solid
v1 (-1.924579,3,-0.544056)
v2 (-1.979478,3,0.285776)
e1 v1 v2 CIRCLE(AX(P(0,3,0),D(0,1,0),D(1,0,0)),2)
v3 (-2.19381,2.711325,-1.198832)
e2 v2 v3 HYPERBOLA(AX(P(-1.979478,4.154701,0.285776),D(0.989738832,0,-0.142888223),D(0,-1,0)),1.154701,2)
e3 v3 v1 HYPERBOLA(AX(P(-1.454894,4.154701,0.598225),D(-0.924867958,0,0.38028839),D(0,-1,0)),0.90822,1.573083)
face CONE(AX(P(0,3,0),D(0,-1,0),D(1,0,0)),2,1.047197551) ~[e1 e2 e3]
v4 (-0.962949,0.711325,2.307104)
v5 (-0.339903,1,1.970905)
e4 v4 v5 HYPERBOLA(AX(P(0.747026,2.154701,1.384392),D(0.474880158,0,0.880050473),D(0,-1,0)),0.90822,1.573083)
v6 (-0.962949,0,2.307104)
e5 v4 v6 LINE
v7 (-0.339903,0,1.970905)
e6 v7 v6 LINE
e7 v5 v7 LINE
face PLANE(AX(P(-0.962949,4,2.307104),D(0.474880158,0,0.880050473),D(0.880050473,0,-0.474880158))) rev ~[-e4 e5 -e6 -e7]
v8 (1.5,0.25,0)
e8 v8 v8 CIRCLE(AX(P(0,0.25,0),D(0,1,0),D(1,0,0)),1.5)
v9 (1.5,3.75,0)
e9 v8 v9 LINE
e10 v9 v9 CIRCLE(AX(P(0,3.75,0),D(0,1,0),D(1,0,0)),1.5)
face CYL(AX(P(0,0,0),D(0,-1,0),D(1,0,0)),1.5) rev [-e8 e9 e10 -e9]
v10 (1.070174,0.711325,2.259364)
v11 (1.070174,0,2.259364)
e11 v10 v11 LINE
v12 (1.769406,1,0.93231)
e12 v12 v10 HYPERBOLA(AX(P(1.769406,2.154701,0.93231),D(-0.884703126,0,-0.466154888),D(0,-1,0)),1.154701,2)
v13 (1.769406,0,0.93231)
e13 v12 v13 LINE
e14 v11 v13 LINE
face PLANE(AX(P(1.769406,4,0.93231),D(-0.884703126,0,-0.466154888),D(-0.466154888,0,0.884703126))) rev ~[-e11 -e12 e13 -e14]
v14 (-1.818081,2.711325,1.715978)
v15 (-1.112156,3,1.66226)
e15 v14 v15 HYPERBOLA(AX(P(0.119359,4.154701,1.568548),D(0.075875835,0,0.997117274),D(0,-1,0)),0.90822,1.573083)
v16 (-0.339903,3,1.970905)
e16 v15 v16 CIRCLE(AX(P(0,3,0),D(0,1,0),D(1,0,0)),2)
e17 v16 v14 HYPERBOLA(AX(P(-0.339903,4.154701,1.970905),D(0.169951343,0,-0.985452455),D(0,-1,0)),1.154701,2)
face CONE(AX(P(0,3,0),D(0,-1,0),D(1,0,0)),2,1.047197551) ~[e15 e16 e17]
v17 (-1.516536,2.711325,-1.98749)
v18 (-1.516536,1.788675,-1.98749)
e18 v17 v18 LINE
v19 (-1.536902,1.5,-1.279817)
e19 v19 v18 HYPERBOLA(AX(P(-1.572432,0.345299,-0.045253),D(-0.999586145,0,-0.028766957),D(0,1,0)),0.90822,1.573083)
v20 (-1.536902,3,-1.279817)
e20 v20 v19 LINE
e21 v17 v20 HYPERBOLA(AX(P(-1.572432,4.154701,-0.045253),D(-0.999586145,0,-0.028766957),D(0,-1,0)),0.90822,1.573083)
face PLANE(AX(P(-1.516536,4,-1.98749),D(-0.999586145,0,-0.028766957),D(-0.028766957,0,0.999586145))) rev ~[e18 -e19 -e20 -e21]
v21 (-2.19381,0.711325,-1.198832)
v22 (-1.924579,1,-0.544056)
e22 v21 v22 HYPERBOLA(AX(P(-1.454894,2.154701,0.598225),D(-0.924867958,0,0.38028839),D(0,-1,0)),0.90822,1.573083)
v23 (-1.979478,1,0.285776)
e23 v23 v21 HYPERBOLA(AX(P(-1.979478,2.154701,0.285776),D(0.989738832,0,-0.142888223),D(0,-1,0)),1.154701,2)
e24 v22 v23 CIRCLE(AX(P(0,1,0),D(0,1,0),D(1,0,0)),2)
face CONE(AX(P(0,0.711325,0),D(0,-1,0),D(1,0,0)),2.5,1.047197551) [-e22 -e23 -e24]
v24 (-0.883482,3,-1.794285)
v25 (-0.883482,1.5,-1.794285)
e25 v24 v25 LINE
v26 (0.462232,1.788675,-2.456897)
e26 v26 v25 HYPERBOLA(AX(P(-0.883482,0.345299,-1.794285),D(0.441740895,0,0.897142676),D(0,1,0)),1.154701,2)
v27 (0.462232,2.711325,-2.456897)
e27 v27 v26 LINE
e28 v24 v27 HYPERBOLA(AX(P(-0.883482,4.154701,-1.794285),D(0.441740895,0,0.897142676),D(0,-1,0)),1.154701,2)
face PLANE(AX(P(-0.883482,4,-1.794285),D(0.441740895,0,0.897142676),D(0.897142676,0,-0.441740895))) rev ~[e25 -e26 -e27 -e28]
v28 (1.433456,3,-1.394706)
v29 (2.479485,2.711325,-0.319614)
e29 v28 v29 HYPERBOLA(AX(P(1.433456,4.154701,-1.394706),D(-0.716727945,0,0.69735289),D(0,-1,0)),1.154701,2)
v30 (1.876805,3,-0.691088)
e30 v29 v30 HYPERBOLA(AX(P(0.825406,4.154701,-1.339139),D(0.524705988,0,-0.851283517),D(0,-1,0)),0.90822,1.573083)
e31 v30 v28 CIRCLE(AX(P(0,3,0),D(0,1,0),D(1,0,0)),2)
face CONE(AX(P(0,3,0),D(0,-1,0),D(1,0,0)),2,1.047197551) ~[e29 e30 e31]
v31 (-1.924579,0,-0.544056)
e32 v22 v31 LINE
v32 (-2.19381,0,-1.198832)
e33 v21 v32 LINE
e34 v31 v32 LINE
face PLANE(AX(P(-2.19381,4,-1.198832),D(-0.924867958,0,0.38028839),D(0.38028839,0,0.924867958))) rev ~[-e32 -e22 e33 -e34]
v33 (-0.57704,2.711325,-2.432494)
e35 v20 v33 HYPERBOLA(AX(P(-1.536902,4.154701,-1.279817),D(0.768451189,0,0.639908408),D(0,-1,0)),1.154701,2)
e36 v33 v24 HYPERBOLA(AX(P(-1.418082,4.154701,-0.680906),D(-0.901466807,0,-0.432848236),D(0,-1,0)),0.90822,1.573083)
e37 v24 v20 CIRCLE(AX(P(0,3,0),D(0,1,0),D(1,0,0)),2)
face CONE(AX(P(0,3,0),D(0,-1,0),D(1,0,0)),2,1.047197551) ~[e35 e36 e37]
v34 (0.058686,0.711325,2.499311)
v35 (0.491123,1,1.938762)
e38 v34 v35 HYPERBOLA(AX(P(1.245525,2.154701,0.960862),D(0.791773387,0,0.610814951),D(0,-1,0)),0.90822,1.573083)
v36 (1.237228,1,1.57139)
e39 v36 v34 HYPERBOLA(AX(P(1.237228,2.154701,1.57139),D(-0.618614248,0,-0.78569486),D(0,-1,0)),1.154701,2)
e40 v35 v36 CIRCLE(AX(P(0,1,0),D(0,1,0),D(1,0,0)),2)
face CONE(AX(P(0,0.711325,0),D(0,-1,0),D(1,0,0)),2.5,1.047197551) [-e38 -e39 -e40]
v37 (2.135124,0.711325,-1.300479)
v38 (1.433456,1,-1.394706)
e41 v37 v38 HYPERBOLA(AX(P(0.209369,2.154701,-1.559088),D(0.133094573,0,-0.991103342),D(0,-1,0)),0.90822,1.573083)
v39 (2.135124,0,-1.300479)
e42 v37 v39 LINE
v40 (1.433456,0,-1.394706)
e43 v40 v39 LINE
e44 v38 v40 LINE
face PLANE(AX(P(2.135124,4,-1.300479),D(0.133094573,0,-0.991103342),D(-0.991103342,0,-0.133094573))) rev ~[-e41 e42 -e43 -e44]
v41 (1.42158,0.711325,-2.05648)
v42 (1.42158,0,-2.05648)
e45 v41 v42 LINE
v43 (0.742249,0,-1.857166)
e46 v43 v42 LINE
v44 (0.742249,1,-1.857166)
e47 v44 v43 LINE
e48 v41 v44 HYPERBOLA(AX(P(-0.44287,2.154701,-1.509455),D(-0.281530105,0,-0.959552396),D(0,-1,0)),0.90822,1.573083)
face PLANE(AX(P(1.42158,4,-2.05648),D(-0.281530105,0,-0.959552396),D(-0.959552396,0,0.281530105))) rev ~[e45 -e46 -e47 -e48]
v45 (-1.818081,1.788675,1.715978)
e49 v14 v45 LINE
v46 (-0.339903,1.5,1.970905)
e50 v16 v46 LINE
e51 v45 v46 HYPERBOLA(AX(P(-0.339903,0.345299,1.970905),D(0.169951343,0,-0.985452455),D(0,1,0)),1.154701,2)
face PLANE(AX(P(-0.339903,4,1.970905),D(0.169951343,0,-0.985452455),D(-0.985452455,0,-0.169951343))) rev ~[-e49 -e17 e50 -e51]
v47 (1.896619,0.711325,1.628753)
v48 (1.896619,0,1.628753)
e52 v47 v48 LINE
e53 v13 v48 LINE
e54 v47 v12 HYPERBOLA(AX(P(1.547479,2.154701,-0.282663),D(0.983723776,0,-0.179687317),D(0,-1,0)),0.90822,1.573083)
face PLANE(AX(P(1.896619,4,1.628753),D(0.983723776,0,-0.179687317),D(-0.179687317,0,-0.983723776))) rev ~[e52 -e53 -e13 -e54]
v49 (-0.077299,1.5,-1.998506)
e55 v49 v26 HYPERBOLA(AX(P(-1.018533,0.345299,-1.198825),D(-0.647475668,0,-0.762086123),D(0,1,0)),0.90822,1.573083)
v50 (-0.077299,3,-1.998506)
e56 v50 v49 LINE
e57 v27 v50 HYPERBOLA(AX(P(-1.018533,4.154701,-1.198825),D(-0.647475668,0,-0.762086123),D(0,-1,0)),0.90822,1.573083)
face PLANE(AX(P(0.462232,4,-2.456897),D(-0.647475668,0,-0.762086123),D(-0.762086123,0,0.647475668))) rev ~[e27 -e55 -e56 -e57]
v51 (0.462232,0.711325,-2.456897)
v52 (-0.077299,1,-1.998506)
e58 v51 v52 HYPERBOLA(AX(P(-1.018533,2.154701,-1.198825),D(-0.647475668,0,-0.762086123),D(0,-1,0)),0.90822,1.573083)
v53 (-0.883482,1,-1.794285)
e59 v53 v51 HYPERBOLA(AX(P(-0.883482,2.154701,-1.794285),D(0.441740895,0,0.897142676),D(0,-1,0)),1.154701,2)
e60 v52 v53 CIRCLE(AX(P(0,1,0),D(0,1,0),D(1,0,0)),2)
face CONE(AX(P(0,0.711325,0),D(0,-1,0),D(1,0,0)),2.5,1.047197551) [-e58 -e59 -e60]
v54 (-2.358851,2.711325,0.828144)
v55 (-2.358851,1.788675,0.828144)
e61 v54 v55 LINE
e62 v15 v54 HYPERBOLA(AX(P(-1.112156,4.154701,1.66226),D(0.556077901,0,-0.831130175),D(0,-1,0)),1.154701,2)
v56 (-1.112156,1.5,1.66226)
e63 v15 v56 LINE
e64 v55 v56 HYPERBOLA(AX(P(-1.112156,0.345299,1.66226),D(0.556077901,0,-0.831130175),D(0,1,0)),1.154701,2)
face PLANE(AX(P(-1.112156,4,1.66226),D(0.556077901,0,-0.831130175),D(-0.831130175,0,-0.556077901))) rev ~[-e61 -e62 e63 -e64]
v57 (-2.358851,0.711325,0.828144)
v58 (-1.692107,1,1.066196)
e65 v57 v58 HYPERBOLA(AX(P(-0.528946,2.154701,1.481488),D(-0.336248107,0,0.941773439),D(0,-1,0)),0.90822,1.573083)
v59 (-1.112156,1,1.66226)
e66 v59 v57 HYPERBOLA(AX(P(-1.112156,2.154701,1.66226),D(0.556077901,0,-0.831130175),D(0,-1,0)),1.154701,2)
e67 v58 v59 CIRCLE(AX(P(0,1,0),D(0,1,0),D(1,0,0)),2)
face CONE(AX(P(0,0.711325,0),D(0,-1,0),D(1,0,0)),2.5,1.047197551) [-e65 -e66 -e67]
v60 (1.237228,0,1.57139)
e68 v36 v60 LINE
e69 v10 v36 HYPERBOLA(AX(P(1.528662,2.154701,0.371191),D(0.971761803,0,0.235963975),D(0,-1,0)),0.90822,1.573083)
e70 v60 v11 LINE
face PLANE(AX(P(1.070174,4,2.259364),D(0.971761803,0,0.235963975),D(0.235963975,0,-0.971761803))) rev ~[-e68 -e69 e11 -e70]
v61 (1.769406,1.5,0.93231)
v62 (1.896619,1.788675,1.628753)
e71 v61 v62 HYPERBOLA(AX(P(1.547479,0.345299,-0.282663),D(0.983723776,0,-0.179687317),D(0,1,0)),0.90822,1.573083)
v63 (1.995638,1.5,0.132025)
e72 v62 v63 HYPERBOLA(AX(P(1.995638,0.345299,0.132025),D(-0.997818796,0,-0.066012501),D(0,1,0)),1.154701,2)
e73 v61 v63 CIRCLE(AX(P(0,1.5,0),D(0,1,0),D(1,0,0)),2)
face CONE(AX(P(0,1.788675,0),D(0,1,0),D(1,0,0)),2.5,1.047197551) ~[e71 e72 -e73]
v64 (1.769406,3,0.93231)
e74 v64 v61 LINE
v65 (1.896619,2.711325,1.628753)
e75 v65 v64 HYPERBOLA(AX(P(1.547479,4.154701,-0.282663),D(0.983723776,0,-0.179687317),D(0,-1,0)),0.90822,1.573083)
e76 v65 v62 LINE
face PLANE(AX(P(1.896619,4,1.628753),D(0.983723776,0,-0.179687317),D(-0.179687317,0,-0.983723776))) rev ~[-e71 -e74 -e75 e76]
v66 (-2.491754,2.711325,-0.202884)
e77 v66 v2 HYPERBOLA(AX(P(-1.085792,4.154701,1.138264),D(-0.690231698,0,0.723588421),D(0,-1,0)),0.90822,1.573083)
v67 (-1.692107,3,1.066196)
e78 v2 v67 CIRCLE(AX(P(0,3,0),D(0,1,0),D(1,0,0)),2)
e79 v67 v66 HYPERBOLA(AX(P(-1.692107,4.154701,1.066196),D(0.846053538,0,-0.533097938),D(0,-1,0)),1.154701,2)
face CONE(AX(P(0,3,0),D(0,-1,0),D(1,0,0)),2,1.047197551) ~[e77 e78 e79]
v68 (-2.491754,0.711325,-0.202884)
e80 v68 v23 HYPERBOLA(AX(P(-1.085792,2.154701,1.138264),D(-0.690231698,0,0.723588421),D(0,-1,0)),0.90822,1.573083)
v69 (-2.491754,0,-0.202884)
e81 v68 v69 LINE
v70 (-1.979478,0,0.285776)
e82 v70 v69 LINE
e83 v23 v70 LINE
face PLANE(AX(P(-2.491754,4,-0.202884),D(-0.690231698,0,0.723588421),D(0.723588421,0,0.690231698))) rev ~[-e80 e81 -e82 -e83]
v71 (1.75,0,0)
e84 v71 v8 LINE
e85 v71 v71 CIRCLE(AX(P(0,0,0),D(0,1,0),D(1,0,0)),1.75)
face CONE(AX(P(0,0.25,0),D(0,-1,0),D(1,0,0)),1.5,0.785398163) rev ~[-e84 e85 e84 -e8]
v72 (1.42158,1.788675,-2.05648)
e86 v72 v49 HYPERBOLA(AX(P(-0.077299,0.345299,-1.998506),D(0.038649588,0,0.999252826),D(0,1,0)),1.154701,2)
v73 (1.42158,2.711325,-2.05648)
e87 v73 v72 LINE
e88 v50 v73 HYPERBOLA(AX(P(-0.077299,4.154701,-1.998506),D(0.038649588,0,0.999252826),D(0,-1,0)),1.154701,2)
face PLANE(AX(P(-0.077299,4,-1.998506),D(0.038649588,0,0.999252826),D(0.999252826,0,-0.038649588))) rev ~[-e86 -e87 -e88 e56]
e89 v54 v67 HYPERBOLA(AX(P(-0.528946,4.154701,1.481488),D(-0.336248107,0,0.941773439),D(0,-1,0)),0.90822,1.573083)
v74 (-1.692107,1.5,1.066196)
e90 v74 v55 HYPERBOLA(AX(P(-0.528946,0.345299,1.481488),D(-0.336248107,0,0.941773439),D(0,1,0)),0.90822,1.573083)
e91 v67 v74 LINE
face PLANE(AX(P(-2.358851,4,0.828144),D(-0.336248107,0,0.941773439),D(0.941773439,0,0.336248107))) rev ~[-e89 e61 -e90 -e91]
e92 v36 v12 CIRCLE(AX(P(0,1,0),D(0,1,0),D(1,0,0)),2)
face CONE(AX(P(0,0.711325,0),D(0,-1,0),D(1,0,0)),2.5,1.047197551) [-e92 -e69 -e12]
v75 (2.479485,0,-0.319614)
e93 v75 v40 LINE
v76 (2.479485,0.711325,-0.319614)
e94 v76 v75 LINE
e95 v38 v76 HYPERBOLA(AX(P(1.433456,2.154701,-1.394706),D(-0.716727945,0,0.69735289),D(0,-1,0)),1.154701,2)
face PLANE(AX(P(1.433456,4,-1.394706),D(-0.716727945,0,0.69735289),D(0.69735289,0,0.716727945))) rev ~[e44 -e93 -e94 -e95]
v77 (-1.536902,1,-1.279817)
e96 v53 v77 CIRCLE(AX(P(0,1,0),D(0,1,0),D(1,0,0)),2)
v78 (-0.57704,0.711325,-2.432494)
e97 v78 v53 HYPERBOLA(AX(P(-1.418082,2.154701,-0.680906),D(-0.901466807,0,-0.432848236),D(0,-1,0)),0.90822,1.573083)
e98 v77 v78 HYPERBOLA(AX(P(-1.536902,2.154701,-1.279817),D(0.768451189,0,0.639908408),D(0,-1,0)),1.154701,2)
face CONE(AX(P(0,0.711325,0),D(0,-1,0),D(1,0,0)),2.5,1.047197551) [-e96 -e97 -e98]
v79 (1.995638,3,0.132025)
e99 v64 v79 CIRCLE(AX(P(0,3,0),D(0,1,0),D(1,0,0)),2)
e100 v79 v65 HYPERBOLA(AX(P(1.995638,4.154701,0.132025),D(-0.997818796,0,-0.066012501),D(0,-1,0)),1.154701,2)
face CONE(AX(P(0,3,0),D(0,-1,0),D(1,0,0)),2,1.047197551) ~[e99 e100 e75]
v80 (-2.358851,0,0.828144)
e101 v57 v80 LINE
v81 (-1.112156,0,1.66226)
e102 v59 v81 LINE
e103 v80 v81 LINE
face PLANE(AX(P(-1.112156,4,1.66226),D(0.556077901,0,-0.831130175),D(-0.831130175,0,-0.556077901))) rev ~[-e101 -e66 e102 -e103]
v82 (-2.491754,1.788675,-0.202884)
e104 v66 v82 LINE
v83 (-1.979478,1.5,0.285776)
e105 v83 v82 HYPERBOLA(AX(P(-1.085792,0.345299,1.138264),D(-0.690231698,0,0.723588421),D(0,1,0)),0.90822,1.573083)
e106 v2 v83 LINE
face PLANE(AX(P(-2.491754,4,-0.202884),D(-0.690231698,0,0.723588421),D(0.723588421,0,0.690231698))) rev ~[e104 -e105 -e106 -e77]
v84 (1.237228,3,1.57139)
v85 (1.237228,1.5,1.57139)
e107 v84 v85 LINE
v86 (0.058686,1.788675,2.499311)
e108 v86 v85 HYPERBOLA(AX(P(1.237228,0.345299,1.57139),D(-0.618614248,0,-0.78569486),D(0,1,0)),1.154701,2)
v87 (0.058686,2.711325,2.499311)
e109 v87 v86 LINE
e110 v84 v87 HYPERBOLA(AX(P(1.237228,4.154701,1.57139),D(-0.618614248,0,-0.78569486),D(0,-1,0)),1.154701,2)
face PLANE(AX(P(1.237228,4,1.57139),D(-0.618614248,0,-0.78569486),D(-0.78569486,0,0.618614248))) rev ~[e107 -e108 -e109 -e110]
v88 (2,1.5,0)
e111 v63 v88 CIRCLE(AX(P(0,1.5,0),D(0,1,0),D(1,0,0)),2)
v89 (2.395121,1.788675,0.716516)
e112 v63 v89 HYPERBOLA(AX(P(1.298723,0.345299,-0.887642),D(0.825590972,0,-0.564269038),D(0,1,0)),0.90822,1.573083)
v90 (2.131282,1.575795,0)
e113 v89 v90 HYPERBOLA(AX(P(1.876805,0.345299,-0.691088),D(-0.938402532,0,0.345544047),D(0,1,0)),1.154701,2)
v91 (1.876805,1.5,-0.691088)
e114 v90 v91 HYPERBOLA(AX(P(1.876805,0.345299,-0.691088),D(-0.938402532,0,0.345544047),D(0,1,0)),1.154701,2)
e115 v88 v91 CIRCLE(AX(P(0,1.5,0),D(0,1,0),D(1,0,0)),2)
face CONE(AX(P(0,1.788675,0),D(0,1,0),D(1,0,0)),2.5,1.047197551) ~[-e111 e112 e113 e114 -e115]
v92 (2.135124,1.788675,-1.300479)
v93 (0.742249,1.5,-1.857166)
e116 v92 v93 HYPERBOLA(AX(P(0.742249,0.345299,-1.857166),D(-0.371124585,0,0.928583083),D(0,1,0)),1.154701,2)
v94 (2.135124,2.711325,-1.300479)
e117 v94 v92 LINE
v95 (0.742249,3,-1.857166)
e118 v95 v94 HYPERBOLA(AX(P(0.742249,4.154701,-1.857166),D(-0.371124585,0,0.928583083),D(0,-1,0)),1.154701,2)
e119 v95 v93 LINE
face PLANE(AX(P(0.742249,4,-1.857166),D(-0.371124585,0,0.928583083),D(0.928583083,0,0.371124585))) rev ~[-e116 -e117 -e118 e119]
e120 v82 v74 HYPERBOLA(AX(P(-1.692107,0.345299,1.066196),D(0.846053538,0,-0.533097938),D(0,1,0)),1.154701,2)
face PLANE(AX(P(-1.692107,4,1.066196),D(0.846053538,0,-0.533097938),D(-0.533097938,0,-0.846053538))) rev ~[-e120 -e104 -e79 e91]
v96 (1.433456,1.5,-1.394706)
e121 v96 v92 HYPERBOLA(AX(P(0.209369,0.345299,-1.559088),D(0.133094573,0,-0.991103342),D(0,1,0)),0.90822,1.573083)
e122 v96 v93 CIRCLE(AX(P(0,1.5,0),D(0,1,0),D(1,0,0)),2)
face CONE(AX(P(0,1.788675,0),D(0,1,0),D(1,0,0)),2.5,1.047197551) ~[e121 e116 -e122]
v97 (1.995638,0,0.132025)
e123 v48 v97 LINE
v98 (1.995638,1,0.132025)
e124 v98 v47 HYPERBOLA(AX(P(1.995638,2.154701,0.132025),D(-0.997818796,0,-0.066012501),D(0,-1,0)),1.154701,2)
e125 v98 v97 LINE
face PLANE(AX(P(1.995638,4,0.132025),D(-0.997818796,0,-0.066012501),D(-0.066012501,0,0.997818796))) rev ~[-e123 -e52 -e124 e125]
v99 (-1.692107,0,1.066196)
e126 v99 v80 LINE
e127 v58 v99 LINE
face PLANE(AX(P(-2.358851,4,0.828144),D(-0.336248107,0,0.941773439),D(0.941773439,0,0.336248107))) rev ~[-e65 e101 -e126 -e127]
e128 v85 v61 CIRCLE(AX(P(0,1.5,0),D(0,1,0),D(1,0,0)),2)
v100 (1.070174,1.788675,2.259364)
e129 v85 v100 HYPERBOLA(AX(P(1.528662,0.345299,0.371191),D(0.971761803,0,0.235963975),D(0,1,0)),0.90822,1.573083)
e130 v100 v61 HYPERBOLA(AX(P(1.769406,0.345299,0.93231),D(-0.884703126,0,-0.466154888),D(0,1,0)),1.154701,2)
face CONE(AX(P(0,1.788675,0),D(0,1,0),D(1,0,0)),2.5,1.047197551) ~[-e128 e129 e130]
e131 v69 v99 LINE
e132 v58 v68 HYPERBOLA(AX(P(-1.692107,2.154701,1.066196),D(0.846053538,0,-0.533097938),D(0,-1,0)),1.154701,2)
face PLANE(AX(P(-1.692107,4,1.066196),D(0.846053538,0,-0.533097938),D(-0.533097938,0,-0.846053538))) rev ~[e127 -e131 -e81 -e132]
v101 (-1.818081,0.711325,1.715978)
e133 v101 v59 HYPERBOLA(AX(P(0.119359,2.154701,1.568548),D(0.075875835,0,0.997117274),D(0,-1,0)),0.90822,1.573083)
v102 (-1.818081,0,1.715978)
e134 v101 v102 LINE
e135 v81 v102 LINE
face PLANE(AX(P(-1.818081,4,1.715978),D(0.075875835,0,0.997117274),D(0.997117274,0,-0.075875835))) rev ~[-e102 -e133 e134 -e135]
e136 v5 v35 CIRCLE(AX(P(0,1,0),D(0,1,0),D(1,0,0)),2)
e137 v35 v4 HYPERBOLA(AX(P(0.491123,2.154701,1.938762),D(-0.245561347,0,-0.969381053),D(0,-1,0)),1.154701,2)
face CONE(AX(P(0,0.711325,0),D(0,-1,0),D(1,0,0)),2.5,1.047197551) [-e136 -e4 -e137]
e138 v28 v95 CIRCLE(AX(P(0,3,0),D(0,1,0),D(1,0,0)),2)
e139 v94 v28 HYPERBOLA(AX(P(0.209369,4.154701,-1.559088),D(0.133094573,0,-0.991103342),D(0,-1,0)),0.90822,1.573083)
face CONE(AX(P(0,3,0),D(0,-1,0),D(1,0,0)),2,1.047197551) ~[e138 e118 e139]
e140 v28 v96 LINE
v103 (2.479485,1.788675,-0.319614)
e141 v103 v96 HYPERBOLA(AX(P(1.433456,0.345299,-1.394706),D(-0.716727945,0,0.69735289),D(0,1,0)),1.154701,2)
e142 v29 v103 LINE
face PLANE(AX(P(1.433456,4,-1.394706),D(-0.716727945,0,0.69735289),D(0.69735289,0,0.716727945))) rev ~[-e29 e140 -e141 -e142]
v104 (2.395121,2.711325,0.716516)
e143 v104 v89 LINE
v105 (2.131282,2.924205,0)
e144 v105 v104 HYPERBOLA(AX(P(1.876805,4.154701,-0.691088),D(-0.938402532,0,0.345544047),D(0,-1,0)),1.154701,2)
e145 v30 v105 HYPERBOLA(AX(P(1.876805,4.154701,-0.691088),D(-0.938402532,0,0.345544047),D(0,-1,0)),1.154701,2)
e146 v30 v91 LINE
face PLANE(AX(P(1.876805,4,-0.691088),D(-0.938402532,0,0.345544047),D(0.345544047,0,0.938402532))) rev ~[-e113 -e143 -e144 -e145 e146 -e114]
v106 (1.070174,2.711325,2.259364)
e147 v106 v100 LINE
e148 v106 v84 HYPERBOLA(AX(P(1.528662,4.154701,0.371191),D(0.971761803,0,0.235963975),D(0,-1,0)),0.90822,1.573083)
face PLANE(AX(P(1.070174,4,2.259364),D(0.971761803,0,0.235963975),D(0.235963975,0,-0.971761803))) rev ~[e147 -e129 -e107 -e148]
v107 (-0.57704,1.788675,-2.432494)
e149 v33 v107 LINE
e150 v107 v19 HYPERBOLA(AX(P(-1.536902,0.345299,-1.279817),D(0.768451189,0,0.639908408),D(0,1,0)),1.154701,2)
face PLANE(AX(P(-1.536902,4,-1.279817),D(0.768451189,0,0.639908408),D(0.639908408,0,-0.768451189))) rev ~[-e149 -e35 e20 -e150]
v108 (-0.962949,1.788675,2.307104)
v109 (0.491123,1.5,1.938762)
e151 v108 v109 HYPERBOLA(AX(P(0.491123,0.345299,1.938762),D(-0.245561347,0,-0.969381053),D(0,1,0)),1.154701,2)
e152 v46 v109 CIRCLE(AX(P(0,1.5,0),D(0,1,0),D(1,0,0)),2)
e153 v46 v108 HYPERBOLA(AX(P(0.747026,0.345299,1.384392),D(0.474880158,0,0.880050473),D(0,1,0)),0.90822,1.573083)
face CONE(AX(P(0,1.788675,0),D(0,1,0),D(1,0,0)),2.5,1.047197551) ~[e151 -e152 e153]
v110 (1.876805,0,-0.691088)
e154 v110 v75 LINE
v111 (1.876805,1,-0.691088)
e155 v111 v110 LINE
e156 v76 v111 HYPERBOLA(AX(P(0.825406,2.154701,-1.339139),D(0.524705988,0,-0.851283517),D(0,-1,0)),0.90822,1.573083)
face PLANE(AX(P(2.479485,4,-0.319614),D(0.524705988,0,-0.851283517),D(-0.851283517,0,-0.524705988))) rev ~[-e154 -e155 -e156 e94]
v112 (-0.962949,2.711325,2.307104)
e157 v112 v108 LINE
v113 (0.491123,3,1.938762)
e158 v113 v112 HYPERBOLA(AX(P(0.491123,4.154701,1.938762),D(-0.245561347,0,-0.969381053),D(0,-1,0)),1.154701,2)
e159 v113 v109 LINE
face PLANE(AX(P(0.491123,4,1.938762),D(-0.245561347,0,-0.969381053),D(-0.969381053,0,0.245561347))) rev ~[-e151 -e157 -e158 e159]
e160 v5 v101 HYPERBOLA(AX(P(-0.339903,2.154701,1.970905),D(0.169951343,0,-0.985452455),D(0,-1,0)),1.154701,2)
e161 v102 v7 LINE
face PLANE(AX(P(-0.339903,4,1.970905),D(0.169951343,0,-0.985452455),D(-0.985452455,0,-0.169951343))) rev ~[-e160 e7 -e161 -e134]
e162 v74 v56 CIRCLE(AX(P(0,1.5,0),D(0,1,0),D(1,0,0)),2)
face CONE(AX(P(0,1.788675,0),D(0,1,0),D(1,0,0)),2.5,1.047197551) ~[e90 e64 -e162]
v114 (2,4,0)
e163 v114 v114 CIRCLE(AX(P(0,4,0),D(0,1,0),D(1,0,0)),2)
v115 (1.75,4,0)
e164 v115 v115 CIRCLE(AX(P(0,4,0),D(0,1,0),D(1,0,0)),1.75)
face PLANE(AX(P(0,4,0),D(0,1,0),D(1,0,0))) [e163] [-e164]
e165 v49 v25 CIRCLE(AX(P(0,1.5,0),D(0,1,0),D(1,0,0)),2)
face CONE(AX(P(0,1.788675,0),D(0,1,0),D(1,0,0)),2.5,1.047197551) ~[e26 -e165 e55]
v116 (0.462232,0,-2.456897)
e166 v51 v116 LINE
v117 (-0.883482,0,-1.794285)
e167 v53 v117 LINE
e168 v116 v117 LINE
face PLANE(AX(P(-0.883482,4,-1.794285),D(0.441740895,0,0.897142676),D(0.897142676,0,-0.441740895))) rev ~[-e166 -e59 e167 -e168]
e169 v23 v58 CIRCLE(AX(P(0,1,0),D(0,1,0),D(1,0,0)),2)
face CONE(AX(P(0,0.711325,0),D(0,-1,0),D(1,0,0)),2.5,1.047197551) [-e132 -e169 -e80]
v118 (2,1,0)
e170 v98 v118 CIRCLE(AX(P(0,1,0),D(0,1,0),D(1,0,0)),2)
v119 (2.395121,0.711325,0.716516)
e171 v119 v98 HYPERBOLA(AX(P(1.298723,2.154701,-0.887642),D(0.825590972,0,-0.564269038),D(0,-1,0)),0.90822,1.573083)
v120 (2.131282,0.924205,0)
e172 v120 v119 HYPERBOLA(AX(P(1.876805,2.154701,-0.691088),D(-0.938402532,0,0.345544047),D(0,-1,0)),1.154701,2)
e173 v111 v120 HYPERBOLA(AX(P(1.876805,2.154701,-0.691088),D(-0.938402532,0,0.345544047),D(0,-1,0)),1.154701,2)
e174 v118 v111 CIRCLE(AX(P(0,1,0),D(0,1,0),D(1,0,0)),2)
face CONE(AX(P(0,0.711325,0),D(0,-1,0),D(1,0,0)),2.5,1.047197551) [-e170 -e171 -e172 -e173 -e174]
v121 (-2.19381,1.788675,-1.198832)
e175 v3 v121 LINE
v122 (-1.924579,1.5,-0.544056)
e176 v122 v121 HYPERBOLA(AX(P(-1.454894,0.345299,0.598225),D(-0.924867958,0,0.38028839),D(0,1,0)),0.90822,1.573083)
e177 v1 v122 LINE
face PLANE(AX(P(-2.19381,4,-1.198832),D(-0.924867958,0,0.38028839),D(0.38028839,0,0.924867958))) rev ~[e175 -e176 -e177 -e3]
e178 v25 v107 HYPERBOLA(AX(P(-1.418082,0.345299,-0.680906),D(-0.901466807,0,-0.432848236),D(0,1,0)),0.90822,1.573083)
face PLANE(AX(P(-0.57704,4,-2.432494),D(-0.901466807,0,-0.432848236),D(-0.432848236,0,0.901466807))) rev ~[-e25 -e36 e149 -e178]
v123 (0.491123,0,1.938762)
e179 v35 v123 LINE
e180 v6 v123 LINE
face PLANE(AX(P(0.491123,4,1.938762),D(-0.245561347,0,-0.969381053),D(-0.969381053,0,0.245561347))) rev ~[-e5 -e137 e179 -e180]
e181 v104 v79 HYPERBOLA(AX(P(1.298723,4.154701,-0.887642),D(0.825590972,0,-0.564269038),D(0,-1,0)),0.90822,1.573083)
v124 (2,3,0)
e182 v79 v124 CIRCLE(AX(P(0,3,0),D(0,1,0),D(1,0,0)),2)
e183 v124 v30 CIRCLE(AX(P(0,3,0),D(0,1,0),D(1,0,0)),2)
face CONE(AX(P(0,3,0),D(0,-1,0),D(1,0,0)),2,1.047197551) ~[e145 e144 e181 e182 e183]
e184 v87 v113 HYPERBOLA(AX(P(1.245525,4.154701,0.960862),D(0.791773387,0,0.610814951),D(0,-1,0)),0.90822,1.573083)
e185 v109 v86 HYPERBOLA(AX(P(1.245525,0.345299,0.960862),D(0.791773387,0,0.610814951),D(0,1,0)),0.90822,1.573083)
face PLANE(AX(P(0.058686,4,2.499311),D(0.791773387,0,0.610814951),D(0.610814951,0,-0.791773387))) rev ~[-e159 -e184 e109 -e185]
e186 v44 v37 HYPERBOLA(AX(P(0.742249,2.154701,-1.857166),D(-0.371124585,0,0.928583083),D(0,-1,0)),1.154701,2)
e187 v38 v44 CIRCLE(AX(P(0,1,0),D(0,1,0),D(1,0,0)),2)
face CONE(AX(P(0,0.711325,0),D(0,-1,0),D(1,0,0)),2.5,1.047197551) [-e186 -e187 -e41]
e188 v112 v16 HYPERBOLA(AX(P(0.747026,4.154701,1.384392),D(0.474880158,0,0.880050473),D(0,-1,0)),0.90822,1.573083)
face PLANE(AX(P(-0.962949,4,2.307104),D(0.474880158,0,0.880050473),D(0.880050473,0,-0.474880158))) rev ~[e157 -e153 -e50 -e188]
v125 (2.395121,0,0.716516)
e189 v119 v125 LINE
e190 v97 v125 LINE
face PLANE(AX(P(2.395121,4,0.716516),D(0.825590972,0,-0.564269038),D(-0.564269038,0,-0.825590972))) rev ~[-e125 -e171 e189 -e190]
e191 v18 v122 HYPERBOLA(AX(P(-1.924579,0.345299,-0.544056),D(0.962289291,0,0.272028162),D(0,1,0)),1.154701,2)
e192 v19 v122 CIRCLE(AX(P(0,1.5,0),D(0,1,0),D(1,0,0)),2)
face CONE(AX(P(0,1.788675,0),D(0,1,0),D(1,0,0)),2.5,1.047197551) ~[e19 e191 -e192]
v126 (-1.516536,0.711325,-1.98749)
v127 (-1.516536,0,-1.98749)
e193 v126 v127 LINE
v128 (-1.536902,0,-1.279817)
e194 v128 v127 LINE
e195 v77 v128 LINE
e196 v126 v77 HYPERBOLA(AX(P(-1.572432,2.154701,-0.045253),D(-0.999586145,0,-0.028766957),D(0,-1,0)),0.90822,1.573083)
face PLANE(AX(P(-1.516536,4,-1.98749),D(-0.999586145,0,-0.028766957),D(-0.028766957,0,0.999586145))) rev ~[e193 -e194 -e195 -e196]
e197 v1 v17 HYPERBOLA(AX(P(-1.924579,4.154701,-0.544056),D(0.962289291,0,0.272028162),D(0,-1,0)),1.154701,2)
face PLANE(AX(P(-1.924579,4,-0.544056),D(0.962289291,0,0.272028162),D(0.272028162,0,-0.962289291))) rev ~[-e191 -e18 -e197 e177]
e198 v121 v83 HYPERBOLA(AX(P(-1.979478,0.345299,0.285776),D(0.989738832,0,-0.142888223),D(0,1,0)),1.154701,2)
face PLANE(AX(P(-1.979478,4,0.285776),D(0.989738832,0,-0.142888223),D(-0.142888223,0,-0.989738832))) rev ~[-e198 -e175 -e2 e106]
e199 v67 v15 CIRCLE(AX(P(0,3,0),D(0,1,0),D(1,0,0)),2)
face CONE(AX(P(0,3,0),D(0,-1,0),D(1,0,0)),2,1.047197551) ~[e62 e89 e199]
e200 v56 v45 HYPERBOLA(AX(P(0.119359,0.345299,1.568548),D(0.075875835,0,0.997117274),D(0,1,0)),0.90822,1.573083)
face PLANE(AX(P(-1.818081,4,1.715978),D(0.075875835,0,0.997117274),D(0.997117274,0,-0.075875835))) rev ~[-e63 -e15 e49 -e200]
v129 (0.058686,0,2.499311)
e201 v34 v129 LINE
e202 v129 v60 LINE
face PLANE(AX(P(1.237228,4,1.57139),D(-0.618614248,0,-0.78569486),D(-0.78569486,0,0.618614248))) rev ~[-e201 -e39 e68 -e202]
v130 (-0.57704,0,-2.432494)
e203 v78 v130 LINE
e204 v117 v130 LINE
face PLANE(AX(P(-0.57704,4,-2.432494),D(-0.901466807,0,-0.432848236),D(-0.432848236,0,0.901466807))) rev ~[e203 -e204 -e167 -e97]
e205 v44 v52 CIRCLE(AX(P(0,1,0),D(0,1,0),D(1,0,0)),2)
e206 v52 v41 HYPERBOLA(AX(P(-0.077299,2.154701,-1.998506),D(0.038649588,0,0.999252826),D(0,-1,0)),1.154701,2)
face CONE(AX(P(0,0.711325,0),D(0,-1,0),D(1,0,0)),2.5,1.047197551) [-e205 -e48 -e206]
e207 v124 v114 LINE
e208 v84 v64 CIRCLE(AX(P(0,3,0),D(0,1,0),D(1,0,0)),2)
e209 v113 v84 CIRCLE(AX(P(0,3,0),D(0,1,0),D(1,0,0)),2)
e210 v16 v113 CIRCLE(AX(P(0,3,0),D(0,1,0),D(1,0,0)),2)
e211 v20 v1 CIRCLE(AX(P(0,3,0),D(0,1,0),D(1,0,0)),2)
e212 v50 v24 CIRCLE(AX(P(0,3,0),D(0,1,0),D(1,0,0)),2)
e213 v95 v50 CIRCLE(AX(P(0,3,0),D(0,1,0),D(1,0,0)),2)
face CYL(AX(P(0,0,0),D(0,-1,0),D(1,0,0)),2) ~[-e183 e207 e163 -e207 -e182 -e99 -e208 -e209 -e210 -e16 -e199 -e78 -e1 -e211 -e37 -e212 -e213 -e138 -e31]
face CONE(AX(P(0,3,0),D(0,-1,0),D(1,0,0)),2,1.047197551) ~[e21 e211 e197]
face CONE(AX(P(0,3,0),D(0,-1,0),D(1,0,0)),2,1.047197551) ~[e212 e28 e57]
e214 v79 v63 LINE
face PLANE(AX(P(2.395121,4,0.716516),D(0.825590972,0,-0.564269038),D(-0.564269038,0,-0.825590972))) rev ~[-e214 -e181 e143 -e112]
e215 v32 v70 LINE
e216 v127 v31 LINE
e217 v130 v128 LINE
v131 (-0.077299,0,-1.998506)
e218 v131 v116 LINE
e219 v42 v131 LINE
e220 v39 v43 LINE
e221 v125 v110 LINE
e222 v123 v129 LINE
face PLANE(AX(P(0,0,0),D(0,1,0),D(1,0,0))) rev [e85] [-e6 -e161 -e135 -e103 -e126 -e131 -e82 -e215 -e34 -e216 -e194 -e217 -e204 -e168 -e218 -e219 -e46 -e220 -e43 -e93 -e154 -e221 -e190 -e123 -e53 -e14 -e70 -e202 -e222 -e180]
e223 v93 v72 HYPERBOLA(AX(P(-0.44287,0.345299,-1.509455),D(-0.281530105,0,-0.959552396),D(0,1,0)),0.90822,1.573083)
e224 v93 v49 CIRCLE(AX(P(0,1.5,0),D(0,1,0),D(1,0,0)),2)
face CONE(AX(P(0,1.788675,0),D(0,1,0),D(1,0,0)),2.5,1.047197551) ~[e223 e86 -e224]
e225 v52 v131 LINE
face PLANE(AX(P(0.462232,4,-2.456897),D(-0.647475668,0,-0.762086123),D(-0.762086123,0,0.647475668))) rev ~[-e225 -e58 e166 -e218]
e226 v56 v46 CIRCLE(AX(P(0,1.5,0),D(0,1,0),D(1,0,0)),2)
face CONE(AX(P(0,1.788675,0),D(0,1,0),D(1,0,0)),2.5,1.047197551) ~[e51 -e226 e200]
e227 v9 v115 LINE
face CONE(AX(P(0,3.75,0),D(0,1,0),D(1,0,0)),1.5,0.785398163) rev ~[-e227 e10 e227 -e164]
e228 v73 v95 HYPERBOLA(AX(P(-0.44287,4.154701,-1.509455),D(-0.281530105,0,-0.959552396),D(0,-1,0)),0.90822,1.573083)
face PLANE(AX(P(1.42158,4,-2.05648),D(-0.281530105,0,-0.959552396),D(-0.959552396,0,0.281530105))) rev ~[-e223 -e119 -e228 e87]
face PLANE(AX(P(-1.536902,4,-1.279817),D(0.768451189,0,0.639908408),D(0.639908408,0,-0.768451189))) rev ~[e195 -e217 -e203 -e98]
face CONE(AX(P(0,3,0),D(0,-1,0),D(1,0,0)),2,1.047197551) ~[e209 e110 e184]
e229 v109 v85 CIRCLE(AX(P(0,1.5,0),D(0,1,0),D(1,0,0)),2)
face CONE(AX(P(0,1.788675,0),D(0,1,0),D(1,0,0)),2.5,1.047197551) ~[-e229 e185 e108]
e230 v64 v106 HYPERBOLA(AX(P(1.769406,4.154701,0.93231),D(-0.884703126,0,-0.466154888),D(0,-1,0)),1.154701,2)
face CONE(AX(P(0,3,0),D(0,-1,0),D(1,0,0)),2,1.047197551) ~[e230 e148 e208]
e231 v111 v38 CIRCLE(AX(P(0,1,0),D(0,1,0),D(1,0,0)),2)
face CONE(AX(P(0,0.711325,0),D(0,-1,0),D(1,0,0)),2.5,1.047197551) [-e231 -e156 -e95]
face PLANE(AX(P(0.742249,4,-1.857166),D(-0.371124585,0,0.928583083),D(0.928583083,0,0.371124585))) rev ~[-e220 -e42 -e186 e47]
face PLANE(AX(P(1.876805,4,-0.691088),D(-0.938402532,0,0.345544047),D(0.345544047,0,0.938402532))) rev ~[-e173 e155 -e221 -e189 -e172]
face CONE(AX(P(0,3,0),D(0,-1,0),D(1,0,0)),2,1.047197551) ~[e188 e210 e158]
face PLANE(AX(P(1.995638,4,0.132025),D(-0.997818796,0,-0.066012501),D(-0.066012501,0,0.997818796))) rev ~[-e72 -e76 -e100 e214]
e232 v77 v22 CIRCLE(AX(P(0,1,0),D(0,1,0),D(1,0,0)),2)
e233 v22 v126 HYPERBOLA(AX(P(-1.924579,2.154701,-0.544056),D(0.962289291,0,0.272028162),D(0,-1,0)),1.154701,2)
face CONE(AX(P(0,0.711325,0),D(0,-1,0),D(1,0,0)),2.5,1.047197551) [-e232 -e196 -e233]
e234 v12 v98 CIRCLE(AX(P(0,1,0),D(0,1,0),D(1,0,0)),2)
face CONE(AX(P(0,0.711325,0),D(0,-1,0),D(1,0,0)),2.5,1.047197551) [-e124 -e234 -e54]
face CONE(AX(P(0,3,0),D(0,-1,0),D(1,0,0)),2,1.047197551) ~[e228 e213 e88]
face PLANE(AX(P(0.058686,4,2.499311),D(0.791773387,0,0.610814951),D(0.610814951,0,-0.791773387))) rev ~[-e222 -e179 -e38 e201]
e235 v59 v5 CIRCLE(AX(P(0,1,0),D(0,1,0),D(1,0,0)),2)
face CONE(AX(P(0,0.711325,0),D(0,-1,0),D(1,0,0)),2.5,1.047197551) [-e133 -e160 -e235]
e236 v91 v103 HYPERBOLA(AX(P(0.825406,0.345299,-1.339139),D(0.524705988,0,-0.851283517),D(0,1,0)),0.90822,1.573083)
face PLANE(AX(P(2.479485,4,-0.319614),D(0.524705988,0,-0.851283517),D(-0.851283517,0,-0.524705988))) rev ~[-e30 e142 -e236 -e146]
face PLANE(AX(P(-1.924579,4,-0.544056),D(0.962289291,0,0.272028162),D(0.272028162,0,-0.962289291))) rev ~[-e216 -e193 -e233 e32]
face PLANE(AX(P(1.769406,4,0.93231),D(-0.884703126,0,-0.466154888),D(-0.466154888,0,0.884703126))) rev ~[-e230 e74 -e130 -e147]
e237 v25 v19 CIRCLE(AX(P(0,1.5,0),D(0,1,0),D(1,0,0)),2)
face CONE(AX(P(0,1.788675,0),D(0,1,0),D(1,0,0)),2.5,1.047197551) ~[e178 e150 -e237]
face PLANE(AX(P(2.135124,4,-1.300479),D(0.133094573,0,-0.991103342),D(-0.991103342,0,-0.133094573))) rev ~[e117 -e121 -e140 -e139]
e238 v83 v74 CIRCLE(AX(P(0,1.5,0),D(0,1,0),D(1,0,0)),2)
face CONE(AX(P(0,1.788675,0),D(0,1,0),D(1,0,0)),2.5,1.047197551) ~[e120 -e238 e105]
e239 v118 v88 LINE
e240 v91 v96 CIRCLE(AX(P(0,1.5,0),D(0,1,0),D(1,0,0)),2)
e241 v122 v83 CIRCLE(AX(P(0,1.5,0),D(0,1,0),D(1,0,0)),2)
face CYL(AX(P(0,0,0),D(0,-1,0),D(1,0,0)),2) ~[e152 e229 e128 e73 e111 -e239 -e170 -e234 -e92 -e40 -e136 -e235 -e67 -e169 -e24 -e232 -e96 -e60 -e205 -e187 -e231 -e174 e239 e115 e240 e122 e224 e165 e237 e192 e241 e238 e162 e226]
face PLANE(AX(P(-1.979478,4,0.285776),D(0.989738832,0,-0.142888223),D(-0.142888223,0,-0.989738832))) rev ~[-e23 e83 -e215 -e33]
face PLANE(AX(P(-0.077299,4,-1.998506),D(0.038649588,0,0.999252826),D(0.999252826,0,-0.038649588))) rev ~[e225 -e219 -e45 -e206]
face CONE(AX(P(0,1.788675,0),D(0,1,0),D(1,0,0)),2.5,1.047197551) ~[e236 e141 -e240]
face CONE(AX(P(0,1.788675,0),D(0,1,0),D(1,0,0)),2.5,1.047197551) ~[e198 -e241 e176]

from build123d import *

# Parameters (mm, degrees)
SKETCH1_R           = 2
SKETCH1_R_2         = 1.5
BOSS_EXTRUDE1_DEPTH = 4
CUT_EXTRUDE3_DEPTH  = 5
CHAMFER1_SIZE       = 0.25


with BuildPart() as part:
    # Sketch1 → Boss-Extrude1 (new body)
    with BuildSketch(Plane(origin=(0, 0, 0), x_dir=(1, 0, 0), z_dir=(0, 1, 0))):
        Circle(SKETCH1_R)
        Circle(SKETCH1_R_2, mode=Mode.SUBTRACT)
    extrude(amount=BOSS_EXTRUDE1_DEPTH)

    # Sketch2 → Revolve1 (revolve)
    with BuildSketch(Plane.XY):
        Polygon((2, 3), (2.5, 2.711324865), (2.5, 1.788675135), (2, 1.5), align=None)
        Polygon((2, 0), (2.5, 0), (2.5, 0.711324865), (2, 1), align=None)
    revolve(axis=Axis((0, 0, 0), (0, 1, 0)))

    # Sketch3 → Cut-Extrude3 (cut, through all)
    with BuildSketch(Plane(origin=(0, 4, 0), x_dir=(1, 0, 0), z_dir=(0, 1, 0))):
        with BuildLine():
            Line((-0.883481791, 1.794285352), (0.462232224, 2.456896695))
            ThreePointArc((0.462232224, 2.456896695), (-0.058686206, 2.499311091), (-0.577039766, 2.432493599))
            Line((-0.577039766, 2.432493599), (-0.883481791, 1.794285352))
        make_face()
        with BuildLine():
            Line((0.462232224, 2.456896695), (-0.077299176, 1.998505651))
            Line((-0.077299176, 1.998505651), (1.421580063, 2.056480033))
            ThreePointArc((1.421580063, 2.056480033), (0.962948887, 2.307104125), (0.462232224, 2.456896695))
        make_face()
        with BuildLine():
            ThreePointArc((2.135123794, 1.30047929), (1.818081368, 1.715977896), (1.421580063, 2.056480033))
            Line((1.421580063, 2.056480033), (0.742249169, 1.857166167))
            Line((0.742249169, 1.857166167), (2.135123794, 1.30047929))
        make_face()
        with BuildLine():
            ThreePointArc((2.479485224, 0.319613864), (2.358851064, 0.8281435), (2.135123794, 1.30047929))
            Line((2.135123794, 1.30047929), (1.433455889, 1.394705781))
            Line((1.433455889, 1.394705781), (2.479485224, 0.319613864))
        make_face()
        with BuildLine():
            ThreePointArc((2.5, 0), (2.494866035, 0.160135785), (2.479485224, 0.319613864))
            Line((2.479485224, 0.319613864), (1.876805063, 0.691088094))
            Line((1.876805063, 0.691088094), (2.395121134, -0.716515703))
            ThreePointArc((2.395121134, -0.716515703), (2.473641328, -0.362075382), (2.5, 0))
        make_face()
        with BuildLine():
            ThreePointArc((1.896618841, -1.628753196), (2.193809999, -1.198831801), (2.395121134, -0.716515703))
            Line((2.395121134, -0.716515703), (1.995637592, -0.132025002))
            Line((1.995637592, -0.132025002), (1.896618841, -1.628753196))
        make_face()
        with BuildLine():
            ThreePointArc((1.07017392, -2.259364464), (1.516536338, -1.987490261), (1.896618841, -1.628753196))
            Line((1.896618841, -1.628753196), (1.769406251, -0.932309776))
            Line((1.769406251, -0.932309776), (1.07017392, -2.259364464))
        make_face()
        with BuildLine():
            ThreePointArc((0.058686206, -2.499311091), (0.577039766, -2.432493599), (1.07017392, -2.259364464))
            Line((1.07017392, -2.259364464), (1.237228495, -1.57138972))
            Line((1.237228495, -1.57138972), (0.058686206, -2.499311091))
        make_face()
        with BuildLine():
            ThreePointArc((-0.962948887, -2.307104125), (-0.462232224, -2.456896695), (0.058686206, -2.499311091))
            Line((0.058686206, -2.499311091), (0.491122692, -1.938762105))
            Line((0.491122692, -1.938762105), (-0.962948887, -2.307104125))
        make_face()
        with BuildLine():
            Line((-0.339902686, -1.97090491), (-1.818081368, -1.715977896))
            ThreePointArc((-1.818081368, -1.715977896), (-1.421580063, -2.056480033), (-0.962948887, -2.307104125))
            Line((-0.962948887, -2.307104125), (-0.339902686, -1.97090491))
        make_face()
        with BuildLine():
            Line((-1.112155801, -1.662260351), (-2.358851064, -0.8281435))
            ThreePointArc((-2.358851064, -0.8281435), (-2.135123794, -1.30047929), (-1.818081368, -1.715977896))
            Line((-1.818081368, -1.715977896), (-1.112155801, -1.662260351))
        make_face()
        with BuildLine():
            Line((-1.692107076, -1.066195875), (-2.491753982, 0.202884431))
            ThreePointArc((-2.491753982, 0.202884431), (-2.479485224, -0.319613864), (-2.358851064, -0.8281435))
            Line((-2.358851064, -0.8281435), (-1.692107076, -1.066195875))
        make_face()
        with BuildLine():
            Line((-1.979477664, -0.285776447), (-2.193809999, 1.198831801))
            ThreePointArc((-2.193809999, 1.198831801), (-2.395121134, 0.716515703), (-2.491753982, 0.202884431))
            Line((-2.491753982, 0.202884431), (-1.979477664, -0.285776447))
        make_face()
        with BuildLine():
            Line((-1.924578581, 0.544056325), (-1.516536338, 1.987490261))
            ThreePointArc((-1.516536338, 1.987490261), (-1.896618841, 1.628753196), (-2.193809999, 1.198831801))
            Line((-2.193809999, 1.198831801), (-1.924578581, 0.544056325))
        make_face()
        with BuildLine():
            Line((-1.536902378, 1.279816816), (-0.577039766, 2.432493599))
            ThreePointArc((-0.577039766, 2.432493599), (-1.07017392, 2.259364464), (-1.516536338, 1.987490261))
            Line((-1.516536338, 1.987490261), (-1.536902378, 1.279816816))
        make_face()
    extrude(amount=-CUT_EXTRUDE3_DEPTH, mode=Mode.SUBTRACT)

    # Chamfer1
    chamfer1_edges = [part.edges().sort_by_distance(p)[0] for p in [
        (-1.5, 0, 0),
        (-1.5, 4, 0),
    ]]
    chamfer(chamfer1_edges, length=CHAMFER1_SIZE)


solid = part.part
